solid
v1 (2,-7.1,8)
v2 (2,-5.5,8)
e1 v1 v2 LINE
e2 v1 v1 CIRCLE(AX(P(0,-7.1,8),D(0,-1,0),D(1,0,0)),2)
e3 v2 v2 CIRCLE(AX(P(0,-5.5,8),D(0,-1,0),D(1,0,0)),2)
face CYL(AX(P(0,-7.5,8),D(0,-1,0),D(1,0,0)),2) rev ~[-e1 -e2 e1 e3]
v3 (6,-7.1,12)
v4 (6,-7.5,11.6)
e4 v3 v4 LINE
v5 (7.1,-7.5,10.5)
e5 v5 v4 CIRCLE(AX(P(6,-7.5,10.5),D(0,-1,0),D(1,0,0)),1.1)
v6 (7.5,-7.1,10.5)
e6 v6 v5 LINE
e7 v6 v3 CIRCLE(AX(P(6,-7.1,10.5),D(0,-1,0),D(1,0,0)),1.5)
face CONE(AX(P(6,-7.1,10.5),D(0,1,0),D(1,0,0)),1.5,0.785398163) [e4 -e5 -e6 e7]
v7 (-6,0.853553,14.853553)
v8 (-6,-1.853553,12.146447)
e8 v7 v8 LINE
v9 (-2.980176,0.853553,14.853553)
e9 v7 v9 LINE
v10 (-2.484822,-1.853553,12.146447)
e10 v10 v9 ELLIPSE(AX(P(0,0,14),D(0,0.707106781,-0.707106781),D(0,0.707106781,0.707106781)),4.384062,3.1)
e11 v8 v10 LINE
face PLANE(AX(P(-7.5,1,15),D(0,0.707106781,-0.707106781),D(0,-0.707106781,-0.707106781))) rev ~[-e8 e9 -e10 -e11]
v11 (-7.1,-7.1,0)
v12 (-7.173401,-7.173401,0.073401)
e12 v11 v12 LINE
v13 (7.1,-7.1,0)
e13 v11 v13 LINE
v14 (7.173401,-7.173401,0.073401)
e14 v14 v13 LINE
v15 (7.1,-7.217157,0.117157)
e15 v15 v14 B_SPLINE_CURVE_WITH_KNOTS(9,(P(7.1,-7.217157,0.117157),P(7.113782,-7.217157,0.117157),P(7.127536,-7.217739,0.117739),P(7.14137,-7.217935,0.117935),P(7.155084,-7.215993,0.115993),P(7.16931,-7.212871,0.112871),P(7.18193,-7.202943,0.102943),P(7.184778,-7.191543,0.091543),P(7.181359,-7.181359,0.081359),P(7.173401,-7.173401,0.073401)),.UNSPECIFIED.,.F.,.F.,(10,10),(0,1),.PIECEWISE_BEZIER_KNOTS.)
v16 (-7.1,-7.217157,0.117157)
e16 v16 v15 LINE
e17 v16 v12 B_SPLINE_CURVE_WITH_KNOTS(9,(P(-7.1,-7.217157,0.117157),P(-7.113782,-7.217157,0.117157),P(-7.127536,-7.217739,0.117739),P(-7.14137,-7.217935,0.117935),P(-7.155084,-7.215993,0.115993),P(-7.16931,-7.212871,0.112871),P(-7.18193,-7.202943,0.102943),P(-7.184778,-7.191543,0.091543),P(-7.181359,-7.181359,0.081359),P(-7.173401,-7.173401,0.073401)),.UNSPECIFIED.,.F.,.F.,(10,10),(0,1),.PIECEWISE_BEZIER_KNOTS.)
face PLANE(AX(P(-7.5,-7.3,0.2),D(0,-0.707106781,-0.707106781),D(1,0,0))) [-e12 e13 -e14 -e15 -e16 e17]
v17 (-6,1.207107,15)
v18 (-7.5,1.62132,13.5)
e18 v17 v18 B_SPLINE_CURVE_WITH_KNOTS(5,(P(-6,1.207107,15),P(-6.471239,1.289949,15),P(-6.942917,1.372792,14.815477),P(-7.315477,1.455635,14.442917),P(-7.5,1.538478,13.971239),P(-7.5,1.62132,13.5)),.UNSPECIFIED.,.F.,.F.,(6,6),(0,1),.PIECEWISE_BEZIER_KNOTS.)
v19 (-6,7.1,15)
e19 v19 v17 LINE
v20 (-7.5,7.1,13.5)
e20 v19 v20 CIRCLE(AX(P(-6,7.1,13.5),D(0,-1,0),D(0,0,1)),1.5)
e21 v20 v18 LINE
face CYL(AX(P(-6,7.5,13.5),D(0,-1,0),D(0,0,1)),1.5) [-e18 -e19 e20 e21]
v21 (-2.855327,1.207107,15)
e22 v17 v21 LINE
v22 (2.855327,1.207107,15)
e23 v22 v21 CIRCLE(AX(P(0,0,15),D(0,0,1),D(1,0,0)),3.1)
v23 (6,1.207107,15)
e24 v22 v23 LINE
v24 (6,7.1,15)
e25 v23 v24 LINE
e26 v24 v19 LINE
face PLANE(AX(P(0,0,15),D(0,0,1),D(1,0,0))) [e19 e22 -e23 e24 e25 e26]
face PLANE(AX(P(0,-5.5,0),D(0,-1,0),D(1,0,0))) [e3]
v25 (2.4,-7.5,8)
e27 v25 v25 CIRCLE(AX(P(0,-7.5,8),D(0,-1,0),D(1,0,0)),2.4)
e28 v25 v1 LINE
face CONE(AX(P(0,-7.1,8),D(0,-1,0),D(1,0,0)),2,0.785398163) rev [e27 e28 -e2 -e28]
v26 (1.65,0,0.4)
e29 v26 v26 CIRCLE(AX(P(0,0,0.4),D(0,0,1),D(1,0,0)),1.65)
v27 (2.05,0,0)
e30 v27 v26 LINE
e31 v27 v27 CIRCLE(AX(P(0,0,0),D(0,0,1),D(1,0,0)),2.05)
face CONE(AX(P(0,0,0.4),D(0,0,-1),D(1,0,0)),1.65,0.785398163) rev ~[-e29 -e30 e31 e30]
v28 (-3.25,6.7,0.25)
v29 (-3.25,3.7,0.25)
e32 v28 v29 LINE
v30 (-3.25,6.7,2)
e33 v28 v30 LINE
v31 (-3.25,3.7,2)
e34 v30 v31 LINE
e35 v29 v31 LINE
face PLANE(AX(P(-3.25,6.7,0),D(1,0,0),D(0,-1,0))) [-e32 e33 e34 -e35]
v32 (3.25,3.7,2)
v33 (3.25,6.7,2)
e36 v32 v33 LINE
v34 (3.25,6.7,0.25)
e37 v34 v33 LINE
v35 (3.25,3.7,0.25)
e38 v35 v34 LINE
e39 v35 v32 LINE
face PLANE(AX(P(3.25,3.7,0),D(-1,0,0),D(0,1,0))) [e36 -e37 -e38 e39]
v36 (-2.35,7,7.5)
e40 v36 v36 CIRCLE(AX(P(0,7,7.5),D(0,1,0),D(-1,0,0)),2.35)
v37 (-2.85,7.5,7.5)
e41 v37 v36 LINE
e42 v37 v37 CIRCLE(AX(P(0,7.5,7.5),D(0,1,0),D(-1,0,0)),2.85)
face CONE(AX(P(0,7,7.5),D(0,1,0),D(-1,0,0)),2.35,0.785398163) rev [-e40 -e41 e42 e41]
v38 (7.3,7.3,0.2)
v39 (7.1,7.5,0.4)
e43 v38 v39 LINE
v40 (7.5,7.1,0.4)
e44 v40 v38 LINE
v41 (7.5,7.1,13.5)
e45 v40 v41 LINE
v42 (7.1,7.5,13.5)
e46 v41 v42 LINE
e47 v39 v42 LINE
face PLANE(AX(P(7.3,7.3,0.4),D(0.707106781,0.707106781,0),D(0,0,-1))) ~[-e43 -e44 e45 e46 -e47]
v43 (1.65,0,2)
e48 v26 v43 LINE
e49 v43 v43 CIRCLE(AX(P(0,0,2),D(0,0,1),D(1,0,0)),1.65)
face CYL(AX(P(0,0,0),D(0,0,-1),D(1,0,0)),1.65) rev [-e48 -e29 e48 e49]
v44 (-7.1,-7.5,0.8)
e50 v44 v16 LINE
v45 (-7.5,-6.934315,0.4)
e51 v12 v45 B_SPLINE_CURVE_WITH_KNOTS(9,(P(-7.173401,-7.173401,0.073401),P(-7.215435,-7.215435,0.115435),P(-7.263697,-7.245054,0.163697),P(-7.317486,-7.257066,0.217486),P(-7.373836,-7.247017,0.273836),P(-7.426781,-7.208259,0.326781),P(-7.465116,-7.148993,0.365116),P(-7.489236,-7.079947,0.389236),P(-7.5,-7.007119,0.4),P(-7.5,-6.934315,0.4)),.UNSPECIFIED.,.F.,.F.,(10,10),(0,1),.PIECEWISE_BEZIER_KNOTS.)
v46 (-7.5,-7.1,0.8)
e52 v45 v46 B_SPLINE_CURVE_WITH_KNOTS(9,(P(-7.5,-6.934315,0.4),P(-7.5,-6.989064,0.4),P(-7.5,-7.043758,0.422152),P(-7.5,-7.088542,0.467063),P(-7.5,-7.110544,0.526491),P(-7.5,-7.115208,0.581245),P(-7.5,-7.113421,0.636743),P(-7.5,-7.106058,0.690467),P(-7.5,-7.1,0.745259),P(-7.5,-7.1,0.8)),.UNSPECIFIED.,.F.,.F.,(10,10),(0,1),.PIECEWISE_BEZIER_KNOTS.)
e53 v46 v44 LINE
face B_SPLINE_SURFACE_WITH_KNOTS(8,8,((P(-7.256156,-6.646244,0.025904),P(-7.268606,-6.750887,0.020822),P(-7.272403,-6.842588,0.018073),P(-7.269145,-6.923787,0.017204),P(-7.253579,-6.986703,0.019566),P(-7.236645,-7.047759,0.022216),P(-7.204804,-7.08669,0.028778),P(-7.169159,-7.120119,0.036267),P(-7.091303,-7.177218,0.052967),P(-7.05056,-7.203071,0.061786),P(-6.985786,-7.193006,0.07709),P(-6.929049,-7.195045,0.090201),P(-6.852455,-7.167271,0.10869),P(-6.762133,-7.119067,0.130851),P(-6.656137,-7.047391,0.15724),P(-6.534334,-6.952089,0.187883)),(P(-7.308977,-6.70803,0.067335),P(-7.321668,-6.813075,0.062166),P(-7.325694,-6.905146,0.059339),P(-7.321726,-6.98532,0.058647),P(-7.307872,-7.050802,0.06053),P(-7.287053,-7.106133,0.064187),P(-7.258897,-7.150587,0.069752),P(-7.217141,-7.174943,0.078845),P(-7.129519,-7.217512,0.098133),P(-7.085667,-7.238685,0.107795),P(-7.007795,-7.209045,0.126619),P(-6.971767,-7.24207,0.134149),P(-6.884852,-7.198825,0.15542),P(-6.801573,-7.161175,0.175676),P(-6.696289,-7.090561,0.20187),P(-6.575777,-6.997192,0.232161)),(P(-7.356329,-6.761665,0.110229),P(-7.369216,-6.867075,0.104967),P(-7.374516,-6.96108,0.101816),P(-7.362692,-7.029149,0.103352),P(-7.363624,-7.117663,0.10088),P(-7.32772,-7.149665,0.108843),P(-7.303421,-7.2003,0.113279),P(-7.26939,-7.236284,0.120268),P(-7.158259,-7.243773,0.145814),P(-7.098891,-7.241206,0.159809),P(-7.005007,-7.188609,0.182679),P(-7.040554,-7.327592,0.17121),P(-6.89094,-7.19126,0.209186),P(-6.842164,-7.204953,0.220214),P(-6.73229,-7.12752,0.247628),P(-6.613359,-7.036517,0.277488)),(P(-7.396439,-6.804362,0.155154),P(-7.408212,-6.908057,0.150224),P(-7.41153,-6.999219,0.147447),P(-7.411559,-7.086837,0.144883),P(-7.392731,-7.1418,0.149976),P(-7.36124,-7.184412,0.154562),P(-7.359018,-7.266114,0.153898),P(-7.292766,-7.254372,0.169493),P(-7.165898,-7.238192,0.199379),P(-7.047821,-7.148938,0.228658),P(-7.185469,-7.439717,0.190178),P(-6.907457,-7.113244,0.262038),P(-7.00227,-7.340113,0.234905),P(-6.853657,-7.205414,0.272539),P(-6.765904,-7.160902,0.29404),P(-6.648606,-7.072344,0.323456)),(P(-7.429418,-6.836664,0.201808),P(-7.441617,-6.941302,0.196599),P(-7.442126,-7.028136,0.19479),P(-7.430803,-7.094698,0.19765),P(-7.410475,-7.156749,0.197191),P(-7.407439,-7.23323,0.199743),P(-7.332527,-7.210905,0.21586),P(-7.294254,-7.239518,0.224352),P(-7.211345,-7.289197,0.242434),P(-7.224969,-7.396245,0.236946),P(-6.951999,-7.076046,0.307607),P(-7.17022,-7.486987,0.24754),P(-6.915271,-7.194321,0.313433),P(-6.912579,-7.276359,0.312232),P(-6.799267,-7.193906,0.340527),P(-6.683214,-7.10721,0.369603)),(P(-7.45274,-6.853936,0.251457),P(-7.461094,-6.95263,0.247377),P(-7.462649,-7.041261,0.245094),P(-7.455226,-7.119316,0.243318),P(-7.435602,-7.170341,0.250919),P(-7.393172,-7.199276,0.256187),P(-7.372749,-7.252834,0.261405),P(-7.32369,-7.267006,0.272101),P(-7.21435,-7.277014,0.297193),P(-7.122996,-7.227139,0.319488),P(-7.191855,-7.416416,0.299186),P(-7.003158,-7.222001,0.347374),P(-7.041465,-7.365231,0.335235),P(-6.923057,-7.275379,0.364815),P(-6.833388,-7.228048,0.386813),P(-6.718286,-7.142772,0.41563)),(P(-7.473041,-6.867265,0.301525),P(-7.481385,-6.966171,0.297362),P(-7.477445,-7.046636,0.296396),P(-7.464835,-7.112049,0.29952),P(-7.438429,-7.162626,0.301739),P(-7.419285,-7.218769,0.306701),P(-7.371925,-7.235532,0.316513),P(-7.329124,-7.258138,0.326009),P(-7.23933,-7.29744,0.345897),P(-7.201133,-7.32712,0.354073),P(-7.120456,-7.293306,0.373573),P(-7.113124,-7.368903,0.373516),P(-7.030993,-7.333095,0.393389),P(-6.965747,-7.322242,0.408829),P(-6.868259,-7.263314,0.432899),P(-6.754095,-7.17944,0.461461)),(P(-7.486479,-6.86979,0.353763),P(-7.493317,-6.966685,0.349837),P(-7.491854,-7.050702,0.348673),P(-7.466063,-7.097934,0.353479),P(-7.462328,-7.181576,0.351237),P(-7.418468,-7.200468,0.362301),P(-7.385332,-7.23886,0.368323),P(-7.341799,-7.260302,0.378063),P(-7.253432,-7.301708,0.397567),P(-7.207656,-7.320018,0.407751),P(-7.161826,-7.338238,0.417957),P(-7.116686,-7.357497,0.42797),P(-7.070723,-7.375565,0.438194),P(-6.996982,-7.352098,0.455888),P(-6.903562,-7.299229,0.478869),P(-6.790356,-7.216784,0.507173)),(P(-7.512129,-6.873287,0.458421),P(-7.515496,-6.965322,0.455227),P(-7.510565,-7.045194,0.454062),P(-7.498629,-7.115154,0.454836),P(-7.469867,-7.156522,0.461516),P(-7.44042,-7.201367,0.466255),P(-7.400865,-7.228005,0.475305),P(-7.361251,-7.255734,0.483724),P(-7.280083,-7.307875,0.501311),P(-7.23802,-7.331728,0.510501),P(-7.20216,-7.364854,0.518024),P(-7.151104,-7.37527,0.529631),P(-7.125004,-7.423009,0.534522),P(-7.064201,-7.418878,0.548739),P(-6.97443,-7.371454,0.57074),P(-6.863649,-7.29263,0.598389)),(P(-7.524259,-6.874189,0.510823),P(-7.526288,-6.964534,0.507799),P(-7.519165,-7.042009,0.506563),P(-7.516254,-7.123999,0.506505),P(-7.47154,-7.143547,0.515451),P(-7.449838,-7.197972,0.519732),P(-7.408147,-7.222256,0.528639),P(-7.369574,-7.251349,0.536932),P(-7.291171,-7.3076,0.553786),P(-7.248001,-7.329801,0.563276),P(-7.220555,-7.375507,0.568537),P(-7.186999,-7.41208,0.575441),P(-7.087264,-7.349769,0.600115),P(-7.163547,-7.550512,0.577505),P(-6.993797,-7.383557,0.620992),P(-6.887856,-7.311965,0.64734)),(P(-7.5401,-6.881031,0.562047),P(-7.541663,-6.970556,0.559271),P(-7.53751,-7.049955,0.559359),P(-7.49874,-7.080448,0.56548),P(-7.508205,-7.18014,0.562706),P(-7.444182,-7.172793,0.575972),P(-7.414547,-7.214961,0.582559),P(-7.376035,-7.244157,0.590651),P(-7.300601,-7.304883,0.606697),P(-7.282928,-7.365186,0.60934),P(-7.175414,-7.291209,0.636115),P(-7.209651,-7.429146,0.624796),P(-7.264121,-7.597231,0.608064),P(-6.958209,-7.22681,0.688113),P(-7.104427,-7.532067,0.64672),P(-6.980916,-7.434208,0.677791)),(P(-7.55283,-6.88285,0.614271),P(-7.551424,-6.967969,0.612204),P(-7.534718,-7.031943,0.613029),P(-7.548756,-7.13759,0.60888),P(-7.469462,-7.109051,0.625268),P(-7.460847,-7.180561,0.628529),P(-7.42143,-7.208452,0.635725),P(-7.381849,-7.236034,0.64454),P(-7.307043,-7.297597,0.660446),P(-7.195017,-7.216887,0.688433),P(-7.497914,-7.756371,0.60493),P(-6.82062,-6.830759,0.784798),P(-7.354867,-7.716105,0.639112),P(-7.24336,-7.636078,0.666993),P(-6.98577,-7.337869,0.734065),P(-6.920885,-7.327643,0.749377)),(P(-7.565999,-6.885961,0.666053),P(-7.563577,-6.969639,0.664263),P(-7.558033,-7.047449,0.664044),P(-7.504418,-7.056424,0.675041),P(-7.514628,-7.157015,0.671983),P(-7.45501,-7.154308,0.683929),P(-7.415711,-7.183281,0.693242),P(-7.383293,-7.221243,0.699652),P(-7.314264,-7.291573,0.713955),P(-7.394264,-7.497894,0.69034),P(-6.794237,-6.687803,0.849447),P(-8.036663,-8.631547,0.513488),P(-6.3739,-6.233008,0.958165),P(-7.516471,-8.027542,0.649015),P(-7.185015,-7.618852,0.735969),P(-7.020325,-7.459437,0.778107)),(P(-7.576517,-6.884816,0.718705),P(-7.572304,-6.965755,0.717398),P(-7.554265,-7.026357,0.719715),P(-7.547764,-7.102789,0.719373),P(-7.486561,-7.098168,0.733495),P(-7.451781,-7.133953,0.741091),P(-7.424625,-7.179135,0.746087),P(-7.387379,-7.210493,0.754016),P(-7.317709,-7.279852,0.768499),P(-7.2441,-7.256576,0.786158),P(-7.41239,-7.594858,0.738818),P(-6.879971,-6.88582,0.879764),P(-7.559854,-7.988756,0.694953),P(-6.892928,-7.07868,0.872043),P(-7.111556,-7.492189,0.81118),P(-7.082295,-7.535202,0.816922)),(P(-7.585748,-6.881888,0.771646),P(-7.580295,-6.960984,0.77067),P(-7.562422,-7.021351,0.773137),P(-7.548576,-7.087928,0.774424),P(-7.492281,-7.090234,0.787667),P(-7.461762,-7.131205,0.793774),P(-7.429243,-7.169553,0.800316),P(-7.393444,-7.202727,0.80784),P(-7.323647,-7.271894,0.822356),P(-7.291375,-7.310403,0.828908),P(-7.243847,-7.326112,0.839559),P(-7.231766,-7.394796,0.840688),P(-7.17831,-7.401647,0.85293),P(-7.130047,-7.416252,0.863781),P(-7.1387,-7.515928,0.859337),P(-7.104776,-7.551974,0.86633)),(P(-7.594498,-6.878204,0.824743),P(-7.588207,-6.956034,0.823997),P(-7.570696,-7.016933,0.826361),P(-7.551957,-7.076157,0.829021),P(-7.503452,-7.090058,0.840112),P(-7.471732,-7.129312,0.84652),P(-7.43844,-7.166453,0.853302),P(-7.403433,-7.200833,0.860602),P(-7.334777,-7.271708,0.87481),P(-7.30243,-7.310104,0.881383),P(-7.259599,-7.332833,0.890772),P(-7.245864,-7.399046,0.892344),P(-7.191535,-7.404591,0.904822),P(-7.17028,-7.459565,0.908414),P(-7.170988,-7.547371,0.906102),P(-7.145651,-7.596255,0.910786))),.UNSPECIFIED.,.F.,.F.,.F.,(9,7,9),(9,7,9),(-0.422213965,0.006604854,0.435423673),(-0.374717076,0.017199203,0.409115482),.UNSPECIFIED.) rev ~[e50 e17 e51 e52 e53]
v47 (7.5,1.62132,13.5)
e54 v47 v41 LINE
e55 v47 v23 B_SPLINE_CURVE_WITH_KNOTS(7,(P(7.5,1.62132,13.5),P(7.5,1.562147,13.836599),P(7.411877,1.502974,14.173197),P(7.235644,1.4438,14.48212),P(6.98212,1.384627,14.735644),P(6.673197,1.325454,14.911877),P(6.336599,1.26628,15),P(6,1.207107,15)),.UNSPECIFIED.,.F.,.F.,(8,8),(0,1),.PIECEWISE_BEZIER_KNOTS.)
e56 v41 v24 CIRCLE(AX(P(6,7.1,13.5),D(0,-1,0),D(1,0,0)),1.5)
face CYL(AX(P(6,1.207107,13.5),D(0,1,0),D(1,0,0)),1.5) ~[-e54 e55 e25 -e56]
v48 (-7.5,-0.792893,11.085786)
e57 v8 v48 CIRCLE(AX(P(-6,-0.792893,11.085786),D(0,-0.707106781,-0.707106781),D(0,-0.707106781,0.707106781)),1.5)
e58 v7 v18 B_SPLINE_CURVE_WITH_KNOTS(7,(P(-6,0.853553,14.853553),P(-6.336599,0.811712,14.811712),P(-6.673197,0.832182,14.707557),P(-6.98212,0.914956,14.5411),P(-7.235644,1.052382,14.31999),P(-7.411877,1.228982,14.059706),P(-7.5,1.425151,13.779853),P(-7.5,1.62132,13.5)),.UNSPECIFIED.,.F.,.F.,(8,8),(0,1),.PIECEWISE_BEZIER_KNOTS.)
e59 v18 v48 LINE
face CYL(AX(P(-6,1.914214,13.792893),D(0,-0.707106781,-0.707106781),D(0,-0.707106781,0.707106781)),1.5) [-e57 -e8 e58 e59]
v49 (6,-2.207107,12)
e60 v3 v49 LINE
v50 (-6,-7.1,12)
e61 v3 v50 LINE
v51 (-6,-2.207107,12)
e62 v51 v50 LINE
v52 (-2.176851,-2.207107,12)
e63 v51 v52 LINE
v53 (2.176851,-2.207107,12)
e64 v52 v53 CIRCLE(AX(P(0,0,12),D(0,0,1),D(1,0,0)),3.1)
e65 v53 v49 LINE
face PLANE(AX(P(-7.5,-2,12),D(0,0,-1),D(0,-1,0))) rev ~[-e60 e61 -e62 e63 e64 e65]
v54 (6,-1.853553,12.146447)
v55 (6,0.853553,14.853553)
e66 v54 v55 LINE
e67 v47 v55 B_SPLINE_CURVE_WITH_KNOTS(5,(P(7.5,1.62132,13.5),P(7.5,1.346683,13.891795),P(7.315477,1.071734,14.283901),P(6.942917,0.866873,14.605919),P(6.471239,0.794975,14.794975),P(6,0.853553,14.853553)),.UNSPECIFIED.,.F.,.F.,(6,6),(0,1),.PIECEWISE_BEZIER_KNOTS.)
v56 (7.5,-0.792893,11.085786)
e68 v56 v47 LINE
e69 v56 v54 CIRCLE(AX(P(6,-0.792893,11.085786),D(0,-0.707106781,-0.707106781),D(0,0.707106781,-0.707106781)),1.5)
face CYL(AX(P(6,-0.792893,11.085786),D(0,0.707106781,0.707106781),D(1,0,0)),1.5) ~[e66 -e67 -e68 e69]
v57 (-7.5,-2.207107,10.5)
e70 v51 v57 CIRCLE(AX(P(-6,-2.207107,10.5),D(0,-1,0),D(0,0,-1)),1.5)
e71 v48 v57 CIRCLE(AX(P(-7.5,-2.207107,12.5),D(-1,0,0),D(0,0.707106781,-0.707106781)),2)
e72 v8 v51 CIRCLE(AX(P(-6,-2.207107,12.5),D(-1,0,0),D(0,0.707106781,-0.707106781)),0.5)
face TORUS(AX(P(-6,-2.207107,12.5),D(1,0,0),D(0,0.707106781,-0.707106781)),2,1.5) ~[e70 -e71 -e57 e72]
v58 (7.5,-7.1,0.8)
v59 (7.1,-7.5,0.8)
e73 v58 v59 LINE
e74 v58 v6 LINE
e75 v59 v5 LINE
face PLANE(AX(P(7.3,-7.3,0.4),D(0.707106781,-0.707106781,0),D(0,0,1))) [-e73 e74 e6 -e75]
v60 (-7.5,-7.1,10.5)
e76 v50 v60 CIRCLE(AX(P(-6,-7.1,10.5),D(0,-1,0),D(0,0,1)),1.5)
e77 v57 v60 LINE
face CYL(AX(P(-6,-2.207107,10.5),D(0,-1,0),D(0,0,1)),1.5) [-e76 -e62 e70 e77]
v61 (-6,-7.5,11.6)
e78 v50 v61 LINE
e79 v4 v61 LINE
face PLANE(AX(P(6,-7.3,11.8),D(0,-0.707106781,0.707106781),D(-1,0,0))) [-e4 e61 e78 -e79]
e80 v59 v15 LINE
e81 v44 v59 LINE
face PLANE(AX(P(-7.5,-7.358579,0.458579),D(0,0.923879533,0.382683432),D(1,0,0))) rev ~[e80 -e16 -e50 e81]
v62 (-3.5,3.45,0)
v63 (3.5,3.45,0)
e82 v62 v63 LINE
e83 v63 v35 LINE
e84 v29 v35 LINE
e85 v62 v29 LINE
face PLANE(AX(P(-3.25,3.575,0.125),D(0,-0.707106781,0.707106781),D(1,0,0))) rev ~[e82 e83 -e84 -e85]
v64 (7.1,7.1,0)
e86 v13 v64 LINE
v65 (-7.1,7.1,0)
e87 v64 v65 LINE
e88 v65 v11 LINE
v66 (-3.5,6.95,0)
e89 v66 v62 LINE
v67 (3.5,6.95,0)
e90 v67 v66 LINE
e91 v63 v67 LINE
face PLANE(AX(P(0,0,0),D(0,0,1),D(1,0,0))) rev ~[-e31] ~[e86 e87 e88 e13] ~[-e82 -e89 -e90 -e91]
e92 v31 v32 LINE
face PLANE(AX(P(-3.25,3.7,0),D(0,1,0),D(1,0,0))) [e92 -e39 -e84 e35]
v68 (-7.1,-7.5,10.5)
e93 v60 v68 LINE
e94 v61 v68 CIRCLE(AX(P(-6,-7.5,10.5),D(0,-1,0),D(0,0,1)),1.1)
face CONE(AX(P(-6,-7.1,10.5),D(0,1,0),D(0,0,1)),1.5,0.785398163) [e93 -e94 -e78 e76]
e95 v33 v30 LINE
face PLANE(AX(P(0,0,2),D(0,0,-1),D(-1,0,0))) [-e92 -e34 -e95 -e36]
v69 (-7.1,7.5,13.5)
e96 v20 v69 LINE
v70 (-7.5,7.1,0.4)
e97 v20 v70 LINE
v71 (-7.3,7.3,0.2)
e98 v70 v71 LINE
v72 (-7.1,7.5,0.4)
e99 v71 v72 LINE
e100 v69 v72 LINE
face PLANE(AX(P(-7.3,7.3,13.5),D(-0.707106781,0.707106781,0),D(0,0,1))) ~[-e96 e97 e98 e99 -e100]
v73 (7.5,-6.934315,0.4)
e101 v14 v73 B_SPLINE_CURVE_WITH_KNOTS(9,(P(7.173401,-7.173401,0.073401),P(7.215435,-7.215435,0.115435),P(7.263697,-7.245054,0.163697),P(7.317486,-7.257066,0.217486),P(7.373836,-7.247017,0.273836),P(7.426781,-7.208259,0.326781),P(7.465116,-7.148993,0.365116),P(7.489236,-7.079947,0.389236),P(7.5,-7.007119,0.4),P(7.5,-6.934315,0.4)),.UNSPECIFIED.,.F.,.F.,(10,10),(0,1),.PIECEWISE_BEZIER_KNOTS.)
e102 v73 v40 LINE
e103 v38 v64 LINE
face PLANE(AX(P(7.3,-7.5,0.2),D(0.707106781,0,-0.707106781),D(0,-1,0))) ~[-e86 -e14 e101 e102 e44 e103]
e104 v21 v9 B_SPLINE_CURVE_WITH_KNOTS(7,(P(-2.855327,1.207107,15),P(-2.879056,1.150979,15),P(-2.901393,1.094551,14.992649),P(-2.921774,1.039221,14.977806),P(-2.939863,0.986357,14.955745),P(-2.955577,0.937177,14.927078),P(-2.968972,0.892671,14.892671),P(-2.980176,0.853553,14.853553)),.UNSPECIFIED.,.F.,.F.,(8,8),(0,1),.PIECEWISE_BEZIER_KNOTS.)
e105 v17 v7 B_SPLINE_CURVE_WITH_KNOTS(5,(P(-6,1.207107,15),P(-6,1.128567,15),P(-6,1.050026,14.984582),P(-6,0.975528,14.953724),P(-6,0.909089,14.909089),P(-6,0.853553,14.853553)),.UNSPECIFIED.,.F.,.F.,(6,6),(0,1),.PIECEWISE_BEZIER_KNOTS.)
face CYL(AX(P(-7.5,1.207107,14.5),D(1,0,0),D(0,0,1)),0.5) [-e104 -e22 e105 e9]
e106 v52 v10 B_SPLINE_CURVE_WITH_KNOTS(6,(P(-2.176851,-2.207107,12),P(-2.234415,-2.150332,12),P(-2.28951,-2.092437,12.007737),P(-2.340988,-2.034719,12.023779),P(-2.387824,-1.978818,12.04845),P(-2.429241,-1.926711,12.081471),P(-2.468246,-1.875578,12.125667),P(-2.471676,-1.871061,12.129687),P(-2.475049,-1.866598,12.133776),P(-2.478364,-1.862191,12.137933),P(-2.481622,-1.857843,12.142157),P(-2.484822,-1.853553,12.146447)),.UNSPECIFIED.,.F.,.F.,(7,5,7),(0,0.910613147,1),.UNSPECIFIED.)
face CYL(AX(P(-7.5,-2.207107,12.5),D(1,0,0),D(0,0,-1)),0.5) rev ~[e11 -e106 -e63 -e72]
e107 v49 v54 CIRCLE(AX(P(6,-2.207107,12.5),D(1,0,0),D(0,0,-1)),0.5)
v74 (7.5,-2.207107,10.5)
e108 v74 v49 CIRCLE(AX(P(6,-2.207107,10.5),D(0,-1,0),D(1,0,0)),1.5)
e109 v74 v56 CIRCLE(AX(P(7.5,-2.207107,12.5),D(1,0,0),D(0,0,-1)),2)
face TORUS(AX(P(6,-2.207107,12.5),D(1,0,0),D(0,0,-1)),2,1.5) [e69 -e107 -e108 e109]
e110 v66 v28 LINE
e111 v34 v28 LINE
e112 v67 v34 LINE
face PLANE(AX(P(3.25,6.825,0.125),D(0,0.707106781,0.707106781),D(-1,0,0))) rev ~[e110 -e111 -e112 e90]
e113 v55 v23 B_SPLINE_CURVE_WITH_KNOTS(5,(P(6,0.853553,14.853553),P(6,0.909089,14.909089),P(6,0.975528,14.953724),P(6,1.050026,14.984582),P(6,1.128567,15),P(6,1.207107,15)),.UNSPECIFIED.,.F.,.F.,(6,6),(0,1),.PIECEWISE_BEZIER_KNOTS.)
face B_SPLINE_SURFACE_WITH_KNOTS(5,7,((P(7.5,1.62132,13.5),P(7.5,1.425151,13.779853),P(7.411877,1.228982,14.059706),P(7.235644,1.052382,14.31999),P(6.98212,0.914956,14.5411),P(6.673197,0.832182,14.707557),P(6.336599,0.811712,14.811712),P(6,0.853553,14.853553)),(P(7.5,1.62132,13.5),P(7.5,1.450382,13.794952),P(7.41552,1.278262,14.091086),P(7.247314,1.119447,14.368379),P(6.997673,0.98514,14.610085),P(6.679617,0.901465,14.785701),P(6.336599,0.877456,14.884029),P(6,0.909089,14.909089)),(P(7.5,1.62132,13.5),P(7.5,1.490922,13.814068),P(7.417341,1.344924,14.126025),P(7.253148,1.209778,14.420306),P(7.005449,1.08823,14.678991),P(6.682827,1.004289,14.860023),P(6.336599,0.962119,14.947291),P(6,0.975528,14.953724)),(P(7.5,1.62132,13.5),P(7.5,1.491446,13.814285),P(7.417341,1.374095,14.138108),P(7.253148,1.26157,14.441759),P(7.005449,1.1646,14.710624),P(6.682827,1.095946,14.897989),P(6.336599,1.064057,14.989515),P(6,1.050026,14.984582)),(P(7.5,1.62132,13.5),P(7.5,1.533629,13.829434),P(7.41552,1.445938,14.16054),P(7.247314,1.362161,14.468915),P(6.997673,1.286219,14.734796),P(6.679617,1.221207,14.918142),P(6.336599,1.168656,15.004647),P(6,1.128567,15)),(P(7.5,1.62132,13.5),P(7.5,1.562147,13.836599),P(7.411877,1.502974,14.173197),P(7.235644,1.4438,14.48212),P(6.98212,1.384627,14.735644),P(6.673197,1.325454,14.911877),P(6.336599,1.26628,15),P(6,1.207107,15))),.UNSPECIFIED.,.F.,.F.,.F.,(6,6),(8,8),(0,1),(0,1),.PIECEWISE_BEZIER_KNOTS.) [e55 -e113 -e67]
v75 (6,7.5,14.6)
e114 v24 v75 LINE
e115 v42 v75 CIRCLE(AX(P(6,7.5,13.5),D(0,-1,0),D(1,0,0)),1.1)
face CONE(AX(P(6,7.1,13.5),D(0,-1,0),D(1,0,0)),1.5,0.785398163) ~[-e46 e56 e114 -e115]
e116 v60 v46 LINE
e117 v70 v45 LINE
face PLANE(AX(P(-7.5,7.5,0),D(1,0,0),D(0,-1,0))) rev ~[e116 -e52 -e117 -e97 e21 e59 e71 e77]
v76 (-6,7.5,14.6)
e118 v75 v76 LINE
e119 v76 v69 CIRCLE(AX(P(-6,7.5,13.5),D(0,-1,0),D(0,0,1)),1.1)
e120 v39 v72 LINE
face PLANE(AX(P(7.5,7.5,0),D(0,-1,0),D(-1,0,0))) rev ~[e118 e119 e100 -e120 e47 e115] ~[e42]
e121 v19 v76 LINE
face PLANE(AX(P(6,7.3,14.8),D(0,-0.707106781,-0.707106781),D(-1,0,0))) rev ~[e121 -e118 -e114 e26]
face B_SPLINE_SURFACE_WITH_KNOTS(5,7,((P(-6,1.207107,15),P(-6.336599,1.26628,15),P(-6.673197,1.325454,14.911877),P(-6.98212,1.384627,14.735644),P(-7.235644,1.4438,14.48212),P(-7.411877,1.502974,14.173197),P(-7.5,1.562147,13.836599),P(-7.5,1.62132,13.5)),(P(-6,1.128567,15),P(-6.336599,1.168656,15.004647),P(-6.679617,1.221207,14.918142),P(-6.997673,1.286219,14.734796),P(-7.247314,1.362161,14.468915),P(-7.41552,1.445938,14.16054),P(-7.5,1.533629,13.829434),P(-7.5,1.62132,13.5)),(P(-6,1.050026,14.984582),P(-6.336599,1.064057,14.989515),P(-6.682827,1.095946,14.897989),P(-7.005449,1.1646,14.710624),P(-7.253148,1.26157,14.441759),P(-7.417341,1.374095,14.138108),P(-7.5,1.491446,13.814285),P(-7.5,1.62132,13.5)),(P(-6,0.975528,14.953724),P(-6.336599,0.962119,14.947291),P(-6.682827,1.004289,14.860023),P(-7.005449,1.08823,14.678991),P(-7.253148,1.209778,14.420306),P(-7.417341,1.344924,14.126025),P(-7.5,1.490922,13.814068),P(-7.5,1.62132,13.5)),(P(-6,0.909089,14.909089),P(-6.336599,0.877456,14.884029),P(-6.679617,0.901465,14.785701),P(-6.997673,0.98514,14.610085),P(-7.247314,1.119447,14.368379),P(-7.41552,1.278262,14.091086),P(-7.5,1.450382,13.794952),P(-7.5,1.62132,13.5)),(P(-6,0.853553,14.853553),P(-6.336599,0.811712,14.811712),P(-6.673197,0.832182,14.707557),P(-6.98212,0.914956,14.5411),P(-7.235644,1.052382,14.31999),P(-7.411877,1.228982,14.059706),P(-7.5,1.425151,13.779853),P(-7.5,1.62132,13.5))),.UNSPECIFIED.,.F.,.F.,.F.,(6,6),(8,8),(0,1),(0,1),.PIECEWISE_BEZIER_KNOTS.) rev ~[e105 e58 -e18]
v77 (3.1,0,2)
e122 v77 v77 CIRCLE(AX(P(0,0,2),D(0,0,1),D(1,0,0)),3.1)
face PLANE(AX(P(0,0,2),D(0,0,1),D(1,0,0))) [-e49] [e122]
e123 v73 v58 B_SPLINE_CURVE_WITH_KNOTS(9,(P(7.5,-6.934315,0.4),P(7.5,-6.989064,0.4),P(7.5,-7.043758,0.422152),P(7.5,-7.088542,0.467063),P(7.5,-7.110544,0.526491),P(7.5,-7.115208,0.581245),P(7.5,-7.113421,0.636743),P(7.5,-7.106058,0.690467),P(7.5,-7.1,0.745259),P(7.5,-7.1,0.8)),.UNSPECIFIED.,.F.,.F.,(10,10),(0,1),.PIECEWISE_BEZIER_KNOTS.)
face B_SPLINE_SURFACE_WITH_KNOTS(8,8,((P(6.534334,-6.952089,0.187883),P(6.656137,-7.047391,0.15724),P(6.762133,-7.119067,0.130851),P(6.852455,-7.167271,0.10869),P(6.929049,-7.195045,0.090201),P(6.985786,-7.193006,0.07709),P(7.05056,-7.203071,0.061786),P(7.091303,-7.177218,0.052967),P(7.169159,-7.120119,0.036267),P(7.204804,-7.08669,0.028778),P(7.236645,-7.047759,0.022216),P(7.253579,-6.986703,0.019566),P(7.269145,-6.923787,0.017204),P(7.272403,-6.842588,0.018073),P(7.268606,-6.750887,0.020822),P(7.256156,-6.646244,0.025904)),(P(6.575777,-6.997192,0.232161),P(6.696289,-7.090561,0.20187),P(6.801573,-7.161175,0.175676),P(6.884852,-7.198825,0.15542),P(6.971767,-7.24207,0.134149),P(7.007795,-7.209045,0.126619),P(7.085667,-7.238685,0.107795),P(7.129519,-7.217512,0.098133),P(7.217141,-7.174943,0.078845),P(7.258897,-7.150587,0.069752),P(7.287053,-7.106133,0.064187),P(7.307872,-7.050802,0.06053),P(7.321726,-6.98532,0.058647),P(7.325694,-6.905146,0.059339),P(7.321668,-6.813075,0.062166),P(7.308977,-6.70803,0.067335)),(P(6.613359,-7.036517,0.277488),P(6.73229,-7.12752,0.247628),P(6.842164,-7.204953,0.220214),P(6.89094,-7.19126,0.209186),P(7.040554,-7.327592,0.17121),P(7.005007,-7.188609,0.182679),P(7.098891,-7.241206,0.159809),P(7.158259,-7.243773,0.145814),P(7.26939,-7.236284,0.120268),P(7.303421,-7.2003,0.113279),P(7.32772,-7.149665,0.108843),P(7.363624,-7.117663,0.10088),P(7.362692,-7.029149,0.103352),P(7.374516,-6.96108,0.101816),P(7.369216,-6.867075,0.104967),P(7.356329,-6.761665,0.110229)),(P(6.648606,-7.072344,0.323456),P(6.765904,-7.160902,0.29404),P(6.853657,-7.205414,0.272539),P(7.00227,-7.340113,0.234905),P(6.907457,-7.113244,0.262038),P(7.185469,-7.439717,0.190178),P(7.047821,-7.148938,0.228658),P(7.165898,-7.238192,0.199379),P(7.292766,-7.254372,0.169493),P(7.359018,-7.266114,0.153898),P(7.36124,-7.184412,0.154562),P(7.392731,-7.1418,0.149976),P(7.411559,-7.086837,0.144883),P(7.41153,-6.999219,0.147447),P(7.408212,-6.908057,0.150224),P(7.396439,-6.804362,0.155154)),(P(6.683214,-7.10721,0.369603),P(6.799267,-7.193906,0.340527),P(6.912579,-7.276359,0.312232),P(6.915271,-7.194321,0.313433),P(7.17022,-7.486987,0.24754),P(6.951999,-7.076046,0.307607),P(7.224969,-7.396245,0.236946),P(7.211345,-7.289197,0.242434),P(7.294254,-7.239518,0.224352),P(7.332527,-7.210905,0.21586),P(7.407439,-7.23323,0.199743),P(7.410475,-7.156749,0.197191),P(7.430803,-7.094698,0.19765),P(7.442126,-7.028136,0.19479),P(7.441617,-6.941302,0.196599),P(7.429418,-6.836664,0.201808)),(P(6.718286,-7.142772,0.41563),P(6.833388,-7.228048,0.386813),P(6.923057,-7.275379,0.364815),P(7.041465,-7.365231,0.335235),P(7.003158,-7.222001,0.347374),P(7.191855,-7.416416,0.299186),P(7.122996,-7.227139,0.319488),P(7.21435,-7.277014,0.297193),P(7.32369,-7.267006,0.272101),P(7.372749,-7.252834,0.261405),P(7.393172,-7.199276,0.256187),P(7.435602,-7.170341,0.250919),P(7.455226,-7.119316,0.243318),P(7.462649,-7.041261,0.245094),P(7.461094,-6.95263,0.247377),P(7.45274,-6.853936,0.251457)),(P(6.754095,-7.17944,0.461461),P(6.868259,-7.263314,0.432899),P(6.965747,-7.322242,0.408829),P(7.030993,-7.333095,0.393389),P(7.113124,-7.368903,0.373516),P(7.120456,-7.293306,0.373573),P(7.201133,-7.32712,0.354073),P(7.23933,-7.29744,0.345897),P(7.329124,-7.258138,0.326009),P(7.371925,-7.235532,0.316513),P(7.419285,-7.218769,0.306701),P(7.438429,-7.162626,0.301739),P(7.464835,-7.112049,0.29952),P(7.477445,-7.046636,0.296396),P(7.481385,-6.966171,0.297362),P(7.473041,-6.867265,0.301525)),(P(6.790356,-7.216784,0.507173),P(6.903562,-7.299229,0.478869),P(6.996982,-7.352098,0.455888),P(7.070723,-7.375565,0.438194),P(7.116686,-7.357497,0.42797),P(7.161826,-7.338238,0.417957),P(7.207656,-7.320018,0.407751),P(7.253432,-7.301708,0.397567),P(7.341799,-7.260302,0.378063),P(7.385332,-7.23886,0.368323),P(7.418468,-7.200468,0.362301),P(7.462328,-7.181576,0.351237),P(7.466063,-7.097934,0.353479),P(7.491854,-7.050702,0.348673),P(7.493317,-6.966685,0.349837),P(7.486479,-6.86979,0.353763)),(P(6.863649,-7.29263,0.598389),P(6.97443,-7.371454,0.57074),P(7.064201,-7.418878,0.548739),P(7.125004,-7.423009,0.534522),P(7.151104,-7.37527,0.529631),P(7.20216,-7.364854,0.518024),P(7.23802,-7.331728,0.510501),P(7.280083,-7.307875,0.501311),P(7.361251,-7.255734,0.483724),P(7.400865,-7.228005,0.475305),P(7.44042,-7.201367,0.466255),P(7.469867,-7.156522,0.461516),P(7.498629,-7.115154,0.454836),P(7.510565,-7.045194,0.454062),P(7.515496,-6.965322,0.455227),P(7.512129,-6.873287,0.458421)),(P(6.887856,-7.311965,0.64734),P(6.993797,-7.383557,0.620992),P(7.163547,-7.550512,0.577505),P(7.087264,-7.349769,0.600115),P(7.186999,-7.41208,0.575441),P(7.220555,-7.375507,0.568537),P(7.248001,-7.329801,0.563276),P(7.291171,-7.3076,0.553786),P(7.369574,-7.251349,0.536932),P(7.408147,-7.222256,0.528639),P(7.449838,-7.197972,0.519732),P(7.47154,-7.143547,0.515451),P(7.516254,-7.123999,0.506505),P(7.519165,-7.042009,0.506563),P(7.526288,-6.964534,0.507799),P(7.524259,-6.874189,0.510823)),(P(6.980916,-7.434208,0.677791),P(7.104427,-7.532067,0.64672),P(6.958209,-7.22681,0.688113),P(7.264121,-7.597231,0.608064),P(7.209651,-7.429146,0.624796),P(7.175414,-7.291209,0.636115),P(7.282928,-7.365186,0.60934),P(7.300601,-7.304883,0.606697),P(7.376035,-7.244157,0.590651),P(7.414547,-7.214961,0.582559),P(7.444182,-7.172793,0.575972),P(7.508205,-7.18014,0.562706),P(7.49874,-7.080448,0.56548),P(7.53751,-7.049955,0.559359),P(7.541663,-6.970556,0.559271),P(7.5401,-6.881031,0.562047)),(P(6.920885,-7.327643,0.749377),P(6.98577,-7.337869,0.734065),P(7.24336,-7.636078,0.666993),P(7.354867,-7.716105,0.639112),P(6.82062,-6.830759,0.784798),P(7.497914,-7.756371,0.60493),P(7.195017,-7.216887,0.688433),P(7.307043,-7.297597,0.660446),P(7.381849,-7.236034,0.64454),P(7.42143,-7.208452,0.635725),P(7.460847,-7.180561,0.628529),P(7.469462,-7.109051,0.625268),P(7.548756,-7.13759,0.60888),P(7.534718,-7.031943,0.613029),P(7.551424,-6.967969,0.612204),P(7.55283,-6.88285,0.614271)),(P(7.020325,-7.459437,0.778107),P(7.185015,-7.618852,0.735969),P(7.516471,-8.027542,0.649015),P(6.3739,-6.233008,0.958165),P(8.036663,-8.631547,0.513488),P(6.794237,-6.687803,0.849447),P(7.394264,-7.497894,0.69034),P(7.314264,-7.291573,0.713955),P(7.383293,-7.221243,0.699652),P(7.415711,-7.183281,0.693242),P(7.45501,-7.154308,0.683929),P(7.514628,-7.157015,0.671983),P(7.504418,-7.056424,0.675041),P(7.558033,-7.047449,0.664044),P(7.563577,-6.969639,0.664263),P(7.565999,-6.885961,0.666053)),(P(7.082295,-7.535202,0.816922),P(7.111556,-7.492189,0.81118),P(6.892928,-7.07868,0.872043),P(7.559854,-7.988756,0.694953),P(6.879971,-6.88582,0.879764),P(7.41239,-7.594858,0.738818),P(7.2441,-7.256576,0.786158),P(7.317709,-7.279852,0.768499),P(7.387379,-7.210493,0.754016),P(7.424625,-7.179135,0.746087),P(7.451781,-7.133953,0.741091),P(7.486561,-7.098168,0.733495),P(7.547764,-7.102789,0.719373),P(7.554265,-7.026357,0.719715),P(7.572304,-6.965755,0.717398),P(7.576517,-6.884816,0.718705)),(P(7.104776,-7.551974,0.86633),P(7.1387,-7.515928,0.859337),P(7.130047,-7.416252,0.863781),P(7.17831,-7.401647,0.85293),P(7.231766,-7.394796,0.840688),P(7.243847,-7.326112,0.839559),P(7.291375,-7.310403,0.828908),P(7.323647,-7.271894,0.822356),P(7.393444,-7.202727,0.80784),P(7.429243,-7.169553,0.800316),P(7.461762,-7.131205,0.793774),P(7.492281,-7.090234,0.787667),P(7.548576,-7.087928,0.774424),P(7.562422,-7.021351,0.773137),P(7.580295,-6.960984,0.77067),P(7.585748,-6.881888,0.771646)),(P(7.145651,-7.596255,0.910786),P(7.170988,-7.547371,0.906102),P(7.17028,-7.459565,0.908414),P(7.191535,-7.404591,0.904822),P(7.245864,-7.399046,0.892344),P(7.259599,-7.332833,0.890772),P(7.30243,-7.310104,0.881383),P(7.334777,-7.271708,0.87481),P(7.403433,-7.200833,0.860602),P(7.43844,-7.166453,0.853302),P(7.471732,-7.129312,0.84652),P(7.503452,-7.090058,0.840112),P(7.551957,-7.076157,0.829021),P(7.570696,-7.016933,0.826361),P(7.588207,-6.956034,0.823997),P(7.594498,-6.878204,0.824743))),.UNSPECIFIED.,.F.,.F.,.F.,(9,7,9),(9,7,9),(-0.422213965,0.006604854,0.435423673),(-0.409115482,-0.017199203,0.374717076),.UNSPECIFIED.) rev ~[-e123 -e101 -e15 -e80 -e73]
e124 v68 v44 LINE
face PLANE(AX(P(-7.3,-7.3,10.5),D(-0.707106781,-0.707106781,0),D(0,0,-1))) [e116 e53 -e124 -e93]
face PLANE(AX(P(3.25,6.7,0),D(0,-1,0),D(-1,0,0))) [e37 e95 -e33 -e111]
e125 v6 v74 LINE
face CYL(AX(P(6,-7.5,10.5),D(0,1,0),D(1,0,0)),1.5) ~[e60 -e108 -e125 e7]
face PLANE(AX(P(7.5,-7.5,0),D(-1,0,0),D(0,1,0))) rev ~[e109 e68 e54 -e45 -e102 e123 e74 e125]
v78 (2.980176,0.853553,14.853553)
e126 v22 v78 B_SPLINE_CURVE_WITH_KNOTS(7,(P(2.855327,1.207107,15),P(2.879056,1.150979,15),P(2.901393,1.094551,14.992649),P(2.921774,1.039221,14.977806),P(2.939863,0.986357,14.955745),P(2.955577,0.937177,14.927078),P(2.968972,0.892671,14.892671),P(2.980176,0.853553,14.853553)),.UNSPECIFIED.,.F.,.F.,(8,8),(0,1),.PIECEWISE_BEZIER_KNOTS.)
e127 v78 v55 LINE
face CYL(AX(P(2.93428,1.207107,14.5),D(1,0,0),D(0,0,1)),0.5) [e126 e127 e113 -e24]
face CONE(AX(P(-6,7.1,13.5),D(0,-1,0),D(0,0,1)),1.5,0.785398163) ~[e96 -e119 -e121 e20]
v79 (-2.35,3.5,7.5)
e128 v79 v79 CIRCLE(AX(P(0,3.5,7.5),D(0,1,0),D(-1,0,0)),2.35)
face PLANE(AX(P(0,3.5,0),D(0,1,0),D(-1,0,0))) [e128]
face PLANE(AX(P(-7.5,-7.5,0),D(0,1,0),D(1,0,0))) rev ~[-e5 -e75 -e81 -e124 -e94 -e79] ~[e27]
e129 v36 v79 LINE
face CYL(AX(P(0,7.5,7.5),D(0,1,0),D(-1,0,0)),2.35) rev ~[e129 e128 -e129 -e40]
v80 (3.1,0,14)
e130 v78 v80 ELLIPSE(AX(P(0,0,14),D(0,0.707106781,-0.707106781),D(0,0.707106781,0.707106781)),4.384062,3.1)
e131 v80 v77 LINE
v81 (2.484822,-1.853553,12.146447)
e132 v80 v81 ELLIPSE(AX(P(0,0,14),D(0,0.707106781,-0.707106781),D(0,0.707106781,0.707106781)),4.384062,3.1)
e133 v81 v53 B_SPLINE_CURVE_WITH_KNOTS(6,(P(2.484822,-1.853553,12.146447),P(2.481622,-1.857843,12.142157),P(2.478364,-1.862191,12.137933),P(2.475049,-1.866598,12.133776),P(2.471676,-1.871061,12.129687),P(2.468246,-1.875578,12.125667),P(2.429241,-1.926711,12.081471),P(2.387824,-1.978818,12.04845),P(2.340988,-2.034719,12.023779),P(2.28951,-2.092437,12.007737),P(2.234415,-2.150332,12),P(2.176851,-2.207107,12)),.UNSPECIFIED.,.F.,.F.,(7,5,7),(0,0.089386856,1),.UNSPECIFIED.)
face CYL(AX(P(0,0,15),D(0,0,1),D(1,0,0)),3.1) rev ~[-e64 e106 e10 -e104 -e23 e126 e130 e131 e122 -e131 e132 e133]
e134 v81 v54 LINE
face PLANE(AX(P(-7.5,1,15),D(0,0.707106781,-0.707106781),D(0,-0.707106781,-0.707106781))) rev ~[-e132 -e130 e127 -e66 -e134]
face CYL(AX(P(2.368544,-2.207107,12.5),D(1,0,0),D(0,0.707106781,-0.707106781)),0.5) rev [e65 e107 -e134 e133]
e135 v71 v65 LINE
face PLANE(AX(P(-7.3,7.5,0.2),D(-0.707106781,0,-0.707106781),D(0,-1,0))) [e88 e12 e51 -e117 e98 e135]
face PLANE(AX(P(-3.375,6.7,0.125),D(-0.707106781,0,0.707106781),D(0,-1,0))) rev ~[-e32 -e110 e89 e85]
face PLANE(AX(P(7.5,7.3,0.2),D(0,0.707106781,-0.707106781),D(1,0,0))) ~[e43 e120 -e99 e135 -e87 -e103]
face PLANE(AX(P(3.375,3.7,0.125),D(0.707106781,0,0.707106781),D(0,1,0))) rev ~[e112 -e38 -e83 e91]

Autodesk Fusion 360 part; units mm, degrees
sketch "Sketch1" plane through (0, 0, 0) normal (0, 0, 1) x (1, 0, 0)
  line L0 (7.5, 7.5) -> (-7.5, 7.5)
  line L1 (-7.5, 7.5) -> (-7.5, -7.5)
  line L2 (-7.5, -7.5) -> (7.5, -7.5)
  line L3 (7.5, -7.5) -> (7.5, 7.5)
  line L4 (7.5, 7.5) -> (-7.5, -7.5) construction
  line L5 (-7.5, 7.5) -> (7.5, -7.5) construction
  circle A0 centre (0, 0) radius 1.65
  circle A1 centre (0, 0) radius 3.1
  dimension "d1" = 15
  dimension "d2" = 15
  dimension "d3" = 3.3
  dimension "d9" = 6.2
extrude "Extrude1" add sketch "Sketch1" along normal blind 15 contours L0 L1 L2 L3 | A1
sketch "Sketch2" plane through (0, 7.5, 0) normal (0, 1, 0) x (-1, 0, 0)
  line L0 (-7.5, 0) -> (7.5, 0)
  line L1 (7.5, 0) -> (7.5, 15)
  line L2 (7.5, 15) -> (-7.5, 15)
  line L3 (-7.5, 15) -> (-7.5, 0)
  circle A0 centre (0, 7.5) radius 2.35
  dimension "d6" = 4.7
extrude "Extrude2" cut sketch "Sketch2" against normal blind 4 contours A0
sketch "Sketch3" plane through (0, 0, 15) normal (0, 0, 1) x (1, 0, 0)
  circle A0 centre (0, 0) radius 1.65
  line L0 (7.5, -7.5) -> (7.5, 7.5)
  line L1 (7.5, 7.5) -> (-7.5, 7.5)
  line L2 (-7.5, 7.5) -> (-7.5, -7.5)
  line L3 (-7.5, -7.5) -> (7.5, -7.5)
  circle A1 centre (0, 0) radius 3.1
extrude "Extrude3" cut sketch "Sketch3" against normal blind 13 contours A1
sketch "Sketch4" plane through (-7.5, 0, 0) normal (-1, 0, 0) x (0, 0, 1)
  line L0 (0, 7.5) -> (0, -7.5)
  line L1 (0, -7.5) -> (15, -7.5)
  line L2 (15, -7.5) -> (15, 7.5)
  line L3 (15, 7.5) -> (0, 7.5)
  line L4 (15, 1) -> (12, -2)
  line L5 (0, -7.5) -> (12, -7.5)
  line L6 (15, 1) -> (15, 7.5)
  line L7 (5.15, 3.5) -> (9.85, 3.5)
  line L8 (5.15, 7.5) -> (9.85, 7.5)
  line L9 (12, -4) -> (0, -4)
  line L10 (12, -2) -> (12, -4)
  line L11 (12, -4) -> (12, -7.5)
  dimension "d12" = 12
  dimension "d20" = 3
  dimension "d21" = 3.5
  dimension "d22" = 135
  dimension "d23" = 5.5
extrude "Extrude4" cut sketch "Sketch4" against normal blind 186 contours L1 L2 L4 L10 L11
fillet "Fillet1" radius 0.5 4 edges at (-5.2171, 1, 15) (5.2171, 1, 15) (4.9343, -2, 12) (-4.9343, -2, 12)
fillet "Fillet2" radius 1.5 10 edges at (7.5, 4.3536, 15) (7.5, 1.0158, 14.9619) (7.5, -0.5, 13.5) (7.5, -2.0158, 12.0381) (7.5, -4.8536, 12) (-7.5, 4.3536, 15) (-7.5, 1.0158, 14.9619) (-7.5, -0.5, 13.5) (-7.5, -2.0158, 12.0381) (-7.5, -4.8536, 12)
chamfer "Chamfer2" distance 0.5 angle 45 1 edges at (2.191, 7.5, 8.3498)
chamfer "Chamfer1" distance 0.4 angle 45 1 faces at (0.0411, -5.5485, 0)
chamfer "Chamfer3" distance 0.4 angle 45 1 faces at (2, -7.5, 4.2667)
sketch "Sketch5" plane through (0, -7.5, 0) normal (0, -1, 0) x (1, 0, 0)
  line L0 (7.1, 0.8) -> (7.1, 10.5)
  line L1 (-7.1, 10.5) -> (-7.1, 0.8)
  line L2 (-7.1, 0.8) -> (7.1, 0.8)
  circle A0 centre (0, 8) radius 2
  line L3 (-7.1, 0) -> (7.1, 0)
  arc A1 (7.1, 10.5) -> (6, 11.6) centre (6, 10.5) ccw
  line L4 (6, 11.6) -> (-6, 11.6)
  arc A2 (-6, 11.6) -> (-7.1, 10.5) centre (-6, 10.5) ccw
  line L5 (6, 12) -> (-6, 12)
  dimension "d28" = 8
  dimension "d29" = 4
  dimension "d34" = 4
extrude "Extrude5" cut sketch "Sketch5" against normal blind 2 contours A0
chamfer "Chamfer4" distance 0.4 angle 45 6 edges at (-1.8647, -7.5, 8.7232) (7.5, 7.5, 6.95) (7.0607, 7.5, 14.5607) (0, 7.5, 15) (-7.0607, 7.5, 14.5607) (-7.5, 7.5, 6.95)
sketch "Sketch6" plane through (0, 0, 0) normal (0, 0, -1) x (-1, 0, 0)
  circle A0 centre (0, 0) radius 2.05
  line L0 (-7.1, 7.1) -> (-7.1, -7.1)
  line L1 (-7.1, -7.1) -> (7.1, -7.1)
  line L2 (7.1, -7.1) -> (7.1, 7.1)
  line L3 (7.1, 7.1) -> (-7.1, 7.1)
  line L4 (-3.25, 6.7) -> (3.25, 6.7)
  line L5 (3.25, 6.7) -> (3.25, 3.7)
  line L6 (3.25, 3.7) -> (-3.25, 3.7)
  line L7 (-3.25, 3.7) -> (-3.25, 6.7)
  line L8 (-7.5, 7.1) -> (-7.5, -7.1)
  line L9 (7.1, 7.5) -> (-7.1, 7.5)
  dimension "d35" = 6.5
  dimension "d36" = 3
  dimension "d37" = 4.25
  dimension "d38" = 0.8
extrude "Extrude6" cut sketch "Sketch6" against normal blind 2 contours L4 L5 L6 L7
chamfer "Chamfer5" distance 0.25 angle 45 4 edges at (-3.25, 5.2, 0) (0, 6.7, 0) (0, 3.7, 0) (3.25, 5.2, 0)
equation "d10 = -15 mm + 2 mm"
